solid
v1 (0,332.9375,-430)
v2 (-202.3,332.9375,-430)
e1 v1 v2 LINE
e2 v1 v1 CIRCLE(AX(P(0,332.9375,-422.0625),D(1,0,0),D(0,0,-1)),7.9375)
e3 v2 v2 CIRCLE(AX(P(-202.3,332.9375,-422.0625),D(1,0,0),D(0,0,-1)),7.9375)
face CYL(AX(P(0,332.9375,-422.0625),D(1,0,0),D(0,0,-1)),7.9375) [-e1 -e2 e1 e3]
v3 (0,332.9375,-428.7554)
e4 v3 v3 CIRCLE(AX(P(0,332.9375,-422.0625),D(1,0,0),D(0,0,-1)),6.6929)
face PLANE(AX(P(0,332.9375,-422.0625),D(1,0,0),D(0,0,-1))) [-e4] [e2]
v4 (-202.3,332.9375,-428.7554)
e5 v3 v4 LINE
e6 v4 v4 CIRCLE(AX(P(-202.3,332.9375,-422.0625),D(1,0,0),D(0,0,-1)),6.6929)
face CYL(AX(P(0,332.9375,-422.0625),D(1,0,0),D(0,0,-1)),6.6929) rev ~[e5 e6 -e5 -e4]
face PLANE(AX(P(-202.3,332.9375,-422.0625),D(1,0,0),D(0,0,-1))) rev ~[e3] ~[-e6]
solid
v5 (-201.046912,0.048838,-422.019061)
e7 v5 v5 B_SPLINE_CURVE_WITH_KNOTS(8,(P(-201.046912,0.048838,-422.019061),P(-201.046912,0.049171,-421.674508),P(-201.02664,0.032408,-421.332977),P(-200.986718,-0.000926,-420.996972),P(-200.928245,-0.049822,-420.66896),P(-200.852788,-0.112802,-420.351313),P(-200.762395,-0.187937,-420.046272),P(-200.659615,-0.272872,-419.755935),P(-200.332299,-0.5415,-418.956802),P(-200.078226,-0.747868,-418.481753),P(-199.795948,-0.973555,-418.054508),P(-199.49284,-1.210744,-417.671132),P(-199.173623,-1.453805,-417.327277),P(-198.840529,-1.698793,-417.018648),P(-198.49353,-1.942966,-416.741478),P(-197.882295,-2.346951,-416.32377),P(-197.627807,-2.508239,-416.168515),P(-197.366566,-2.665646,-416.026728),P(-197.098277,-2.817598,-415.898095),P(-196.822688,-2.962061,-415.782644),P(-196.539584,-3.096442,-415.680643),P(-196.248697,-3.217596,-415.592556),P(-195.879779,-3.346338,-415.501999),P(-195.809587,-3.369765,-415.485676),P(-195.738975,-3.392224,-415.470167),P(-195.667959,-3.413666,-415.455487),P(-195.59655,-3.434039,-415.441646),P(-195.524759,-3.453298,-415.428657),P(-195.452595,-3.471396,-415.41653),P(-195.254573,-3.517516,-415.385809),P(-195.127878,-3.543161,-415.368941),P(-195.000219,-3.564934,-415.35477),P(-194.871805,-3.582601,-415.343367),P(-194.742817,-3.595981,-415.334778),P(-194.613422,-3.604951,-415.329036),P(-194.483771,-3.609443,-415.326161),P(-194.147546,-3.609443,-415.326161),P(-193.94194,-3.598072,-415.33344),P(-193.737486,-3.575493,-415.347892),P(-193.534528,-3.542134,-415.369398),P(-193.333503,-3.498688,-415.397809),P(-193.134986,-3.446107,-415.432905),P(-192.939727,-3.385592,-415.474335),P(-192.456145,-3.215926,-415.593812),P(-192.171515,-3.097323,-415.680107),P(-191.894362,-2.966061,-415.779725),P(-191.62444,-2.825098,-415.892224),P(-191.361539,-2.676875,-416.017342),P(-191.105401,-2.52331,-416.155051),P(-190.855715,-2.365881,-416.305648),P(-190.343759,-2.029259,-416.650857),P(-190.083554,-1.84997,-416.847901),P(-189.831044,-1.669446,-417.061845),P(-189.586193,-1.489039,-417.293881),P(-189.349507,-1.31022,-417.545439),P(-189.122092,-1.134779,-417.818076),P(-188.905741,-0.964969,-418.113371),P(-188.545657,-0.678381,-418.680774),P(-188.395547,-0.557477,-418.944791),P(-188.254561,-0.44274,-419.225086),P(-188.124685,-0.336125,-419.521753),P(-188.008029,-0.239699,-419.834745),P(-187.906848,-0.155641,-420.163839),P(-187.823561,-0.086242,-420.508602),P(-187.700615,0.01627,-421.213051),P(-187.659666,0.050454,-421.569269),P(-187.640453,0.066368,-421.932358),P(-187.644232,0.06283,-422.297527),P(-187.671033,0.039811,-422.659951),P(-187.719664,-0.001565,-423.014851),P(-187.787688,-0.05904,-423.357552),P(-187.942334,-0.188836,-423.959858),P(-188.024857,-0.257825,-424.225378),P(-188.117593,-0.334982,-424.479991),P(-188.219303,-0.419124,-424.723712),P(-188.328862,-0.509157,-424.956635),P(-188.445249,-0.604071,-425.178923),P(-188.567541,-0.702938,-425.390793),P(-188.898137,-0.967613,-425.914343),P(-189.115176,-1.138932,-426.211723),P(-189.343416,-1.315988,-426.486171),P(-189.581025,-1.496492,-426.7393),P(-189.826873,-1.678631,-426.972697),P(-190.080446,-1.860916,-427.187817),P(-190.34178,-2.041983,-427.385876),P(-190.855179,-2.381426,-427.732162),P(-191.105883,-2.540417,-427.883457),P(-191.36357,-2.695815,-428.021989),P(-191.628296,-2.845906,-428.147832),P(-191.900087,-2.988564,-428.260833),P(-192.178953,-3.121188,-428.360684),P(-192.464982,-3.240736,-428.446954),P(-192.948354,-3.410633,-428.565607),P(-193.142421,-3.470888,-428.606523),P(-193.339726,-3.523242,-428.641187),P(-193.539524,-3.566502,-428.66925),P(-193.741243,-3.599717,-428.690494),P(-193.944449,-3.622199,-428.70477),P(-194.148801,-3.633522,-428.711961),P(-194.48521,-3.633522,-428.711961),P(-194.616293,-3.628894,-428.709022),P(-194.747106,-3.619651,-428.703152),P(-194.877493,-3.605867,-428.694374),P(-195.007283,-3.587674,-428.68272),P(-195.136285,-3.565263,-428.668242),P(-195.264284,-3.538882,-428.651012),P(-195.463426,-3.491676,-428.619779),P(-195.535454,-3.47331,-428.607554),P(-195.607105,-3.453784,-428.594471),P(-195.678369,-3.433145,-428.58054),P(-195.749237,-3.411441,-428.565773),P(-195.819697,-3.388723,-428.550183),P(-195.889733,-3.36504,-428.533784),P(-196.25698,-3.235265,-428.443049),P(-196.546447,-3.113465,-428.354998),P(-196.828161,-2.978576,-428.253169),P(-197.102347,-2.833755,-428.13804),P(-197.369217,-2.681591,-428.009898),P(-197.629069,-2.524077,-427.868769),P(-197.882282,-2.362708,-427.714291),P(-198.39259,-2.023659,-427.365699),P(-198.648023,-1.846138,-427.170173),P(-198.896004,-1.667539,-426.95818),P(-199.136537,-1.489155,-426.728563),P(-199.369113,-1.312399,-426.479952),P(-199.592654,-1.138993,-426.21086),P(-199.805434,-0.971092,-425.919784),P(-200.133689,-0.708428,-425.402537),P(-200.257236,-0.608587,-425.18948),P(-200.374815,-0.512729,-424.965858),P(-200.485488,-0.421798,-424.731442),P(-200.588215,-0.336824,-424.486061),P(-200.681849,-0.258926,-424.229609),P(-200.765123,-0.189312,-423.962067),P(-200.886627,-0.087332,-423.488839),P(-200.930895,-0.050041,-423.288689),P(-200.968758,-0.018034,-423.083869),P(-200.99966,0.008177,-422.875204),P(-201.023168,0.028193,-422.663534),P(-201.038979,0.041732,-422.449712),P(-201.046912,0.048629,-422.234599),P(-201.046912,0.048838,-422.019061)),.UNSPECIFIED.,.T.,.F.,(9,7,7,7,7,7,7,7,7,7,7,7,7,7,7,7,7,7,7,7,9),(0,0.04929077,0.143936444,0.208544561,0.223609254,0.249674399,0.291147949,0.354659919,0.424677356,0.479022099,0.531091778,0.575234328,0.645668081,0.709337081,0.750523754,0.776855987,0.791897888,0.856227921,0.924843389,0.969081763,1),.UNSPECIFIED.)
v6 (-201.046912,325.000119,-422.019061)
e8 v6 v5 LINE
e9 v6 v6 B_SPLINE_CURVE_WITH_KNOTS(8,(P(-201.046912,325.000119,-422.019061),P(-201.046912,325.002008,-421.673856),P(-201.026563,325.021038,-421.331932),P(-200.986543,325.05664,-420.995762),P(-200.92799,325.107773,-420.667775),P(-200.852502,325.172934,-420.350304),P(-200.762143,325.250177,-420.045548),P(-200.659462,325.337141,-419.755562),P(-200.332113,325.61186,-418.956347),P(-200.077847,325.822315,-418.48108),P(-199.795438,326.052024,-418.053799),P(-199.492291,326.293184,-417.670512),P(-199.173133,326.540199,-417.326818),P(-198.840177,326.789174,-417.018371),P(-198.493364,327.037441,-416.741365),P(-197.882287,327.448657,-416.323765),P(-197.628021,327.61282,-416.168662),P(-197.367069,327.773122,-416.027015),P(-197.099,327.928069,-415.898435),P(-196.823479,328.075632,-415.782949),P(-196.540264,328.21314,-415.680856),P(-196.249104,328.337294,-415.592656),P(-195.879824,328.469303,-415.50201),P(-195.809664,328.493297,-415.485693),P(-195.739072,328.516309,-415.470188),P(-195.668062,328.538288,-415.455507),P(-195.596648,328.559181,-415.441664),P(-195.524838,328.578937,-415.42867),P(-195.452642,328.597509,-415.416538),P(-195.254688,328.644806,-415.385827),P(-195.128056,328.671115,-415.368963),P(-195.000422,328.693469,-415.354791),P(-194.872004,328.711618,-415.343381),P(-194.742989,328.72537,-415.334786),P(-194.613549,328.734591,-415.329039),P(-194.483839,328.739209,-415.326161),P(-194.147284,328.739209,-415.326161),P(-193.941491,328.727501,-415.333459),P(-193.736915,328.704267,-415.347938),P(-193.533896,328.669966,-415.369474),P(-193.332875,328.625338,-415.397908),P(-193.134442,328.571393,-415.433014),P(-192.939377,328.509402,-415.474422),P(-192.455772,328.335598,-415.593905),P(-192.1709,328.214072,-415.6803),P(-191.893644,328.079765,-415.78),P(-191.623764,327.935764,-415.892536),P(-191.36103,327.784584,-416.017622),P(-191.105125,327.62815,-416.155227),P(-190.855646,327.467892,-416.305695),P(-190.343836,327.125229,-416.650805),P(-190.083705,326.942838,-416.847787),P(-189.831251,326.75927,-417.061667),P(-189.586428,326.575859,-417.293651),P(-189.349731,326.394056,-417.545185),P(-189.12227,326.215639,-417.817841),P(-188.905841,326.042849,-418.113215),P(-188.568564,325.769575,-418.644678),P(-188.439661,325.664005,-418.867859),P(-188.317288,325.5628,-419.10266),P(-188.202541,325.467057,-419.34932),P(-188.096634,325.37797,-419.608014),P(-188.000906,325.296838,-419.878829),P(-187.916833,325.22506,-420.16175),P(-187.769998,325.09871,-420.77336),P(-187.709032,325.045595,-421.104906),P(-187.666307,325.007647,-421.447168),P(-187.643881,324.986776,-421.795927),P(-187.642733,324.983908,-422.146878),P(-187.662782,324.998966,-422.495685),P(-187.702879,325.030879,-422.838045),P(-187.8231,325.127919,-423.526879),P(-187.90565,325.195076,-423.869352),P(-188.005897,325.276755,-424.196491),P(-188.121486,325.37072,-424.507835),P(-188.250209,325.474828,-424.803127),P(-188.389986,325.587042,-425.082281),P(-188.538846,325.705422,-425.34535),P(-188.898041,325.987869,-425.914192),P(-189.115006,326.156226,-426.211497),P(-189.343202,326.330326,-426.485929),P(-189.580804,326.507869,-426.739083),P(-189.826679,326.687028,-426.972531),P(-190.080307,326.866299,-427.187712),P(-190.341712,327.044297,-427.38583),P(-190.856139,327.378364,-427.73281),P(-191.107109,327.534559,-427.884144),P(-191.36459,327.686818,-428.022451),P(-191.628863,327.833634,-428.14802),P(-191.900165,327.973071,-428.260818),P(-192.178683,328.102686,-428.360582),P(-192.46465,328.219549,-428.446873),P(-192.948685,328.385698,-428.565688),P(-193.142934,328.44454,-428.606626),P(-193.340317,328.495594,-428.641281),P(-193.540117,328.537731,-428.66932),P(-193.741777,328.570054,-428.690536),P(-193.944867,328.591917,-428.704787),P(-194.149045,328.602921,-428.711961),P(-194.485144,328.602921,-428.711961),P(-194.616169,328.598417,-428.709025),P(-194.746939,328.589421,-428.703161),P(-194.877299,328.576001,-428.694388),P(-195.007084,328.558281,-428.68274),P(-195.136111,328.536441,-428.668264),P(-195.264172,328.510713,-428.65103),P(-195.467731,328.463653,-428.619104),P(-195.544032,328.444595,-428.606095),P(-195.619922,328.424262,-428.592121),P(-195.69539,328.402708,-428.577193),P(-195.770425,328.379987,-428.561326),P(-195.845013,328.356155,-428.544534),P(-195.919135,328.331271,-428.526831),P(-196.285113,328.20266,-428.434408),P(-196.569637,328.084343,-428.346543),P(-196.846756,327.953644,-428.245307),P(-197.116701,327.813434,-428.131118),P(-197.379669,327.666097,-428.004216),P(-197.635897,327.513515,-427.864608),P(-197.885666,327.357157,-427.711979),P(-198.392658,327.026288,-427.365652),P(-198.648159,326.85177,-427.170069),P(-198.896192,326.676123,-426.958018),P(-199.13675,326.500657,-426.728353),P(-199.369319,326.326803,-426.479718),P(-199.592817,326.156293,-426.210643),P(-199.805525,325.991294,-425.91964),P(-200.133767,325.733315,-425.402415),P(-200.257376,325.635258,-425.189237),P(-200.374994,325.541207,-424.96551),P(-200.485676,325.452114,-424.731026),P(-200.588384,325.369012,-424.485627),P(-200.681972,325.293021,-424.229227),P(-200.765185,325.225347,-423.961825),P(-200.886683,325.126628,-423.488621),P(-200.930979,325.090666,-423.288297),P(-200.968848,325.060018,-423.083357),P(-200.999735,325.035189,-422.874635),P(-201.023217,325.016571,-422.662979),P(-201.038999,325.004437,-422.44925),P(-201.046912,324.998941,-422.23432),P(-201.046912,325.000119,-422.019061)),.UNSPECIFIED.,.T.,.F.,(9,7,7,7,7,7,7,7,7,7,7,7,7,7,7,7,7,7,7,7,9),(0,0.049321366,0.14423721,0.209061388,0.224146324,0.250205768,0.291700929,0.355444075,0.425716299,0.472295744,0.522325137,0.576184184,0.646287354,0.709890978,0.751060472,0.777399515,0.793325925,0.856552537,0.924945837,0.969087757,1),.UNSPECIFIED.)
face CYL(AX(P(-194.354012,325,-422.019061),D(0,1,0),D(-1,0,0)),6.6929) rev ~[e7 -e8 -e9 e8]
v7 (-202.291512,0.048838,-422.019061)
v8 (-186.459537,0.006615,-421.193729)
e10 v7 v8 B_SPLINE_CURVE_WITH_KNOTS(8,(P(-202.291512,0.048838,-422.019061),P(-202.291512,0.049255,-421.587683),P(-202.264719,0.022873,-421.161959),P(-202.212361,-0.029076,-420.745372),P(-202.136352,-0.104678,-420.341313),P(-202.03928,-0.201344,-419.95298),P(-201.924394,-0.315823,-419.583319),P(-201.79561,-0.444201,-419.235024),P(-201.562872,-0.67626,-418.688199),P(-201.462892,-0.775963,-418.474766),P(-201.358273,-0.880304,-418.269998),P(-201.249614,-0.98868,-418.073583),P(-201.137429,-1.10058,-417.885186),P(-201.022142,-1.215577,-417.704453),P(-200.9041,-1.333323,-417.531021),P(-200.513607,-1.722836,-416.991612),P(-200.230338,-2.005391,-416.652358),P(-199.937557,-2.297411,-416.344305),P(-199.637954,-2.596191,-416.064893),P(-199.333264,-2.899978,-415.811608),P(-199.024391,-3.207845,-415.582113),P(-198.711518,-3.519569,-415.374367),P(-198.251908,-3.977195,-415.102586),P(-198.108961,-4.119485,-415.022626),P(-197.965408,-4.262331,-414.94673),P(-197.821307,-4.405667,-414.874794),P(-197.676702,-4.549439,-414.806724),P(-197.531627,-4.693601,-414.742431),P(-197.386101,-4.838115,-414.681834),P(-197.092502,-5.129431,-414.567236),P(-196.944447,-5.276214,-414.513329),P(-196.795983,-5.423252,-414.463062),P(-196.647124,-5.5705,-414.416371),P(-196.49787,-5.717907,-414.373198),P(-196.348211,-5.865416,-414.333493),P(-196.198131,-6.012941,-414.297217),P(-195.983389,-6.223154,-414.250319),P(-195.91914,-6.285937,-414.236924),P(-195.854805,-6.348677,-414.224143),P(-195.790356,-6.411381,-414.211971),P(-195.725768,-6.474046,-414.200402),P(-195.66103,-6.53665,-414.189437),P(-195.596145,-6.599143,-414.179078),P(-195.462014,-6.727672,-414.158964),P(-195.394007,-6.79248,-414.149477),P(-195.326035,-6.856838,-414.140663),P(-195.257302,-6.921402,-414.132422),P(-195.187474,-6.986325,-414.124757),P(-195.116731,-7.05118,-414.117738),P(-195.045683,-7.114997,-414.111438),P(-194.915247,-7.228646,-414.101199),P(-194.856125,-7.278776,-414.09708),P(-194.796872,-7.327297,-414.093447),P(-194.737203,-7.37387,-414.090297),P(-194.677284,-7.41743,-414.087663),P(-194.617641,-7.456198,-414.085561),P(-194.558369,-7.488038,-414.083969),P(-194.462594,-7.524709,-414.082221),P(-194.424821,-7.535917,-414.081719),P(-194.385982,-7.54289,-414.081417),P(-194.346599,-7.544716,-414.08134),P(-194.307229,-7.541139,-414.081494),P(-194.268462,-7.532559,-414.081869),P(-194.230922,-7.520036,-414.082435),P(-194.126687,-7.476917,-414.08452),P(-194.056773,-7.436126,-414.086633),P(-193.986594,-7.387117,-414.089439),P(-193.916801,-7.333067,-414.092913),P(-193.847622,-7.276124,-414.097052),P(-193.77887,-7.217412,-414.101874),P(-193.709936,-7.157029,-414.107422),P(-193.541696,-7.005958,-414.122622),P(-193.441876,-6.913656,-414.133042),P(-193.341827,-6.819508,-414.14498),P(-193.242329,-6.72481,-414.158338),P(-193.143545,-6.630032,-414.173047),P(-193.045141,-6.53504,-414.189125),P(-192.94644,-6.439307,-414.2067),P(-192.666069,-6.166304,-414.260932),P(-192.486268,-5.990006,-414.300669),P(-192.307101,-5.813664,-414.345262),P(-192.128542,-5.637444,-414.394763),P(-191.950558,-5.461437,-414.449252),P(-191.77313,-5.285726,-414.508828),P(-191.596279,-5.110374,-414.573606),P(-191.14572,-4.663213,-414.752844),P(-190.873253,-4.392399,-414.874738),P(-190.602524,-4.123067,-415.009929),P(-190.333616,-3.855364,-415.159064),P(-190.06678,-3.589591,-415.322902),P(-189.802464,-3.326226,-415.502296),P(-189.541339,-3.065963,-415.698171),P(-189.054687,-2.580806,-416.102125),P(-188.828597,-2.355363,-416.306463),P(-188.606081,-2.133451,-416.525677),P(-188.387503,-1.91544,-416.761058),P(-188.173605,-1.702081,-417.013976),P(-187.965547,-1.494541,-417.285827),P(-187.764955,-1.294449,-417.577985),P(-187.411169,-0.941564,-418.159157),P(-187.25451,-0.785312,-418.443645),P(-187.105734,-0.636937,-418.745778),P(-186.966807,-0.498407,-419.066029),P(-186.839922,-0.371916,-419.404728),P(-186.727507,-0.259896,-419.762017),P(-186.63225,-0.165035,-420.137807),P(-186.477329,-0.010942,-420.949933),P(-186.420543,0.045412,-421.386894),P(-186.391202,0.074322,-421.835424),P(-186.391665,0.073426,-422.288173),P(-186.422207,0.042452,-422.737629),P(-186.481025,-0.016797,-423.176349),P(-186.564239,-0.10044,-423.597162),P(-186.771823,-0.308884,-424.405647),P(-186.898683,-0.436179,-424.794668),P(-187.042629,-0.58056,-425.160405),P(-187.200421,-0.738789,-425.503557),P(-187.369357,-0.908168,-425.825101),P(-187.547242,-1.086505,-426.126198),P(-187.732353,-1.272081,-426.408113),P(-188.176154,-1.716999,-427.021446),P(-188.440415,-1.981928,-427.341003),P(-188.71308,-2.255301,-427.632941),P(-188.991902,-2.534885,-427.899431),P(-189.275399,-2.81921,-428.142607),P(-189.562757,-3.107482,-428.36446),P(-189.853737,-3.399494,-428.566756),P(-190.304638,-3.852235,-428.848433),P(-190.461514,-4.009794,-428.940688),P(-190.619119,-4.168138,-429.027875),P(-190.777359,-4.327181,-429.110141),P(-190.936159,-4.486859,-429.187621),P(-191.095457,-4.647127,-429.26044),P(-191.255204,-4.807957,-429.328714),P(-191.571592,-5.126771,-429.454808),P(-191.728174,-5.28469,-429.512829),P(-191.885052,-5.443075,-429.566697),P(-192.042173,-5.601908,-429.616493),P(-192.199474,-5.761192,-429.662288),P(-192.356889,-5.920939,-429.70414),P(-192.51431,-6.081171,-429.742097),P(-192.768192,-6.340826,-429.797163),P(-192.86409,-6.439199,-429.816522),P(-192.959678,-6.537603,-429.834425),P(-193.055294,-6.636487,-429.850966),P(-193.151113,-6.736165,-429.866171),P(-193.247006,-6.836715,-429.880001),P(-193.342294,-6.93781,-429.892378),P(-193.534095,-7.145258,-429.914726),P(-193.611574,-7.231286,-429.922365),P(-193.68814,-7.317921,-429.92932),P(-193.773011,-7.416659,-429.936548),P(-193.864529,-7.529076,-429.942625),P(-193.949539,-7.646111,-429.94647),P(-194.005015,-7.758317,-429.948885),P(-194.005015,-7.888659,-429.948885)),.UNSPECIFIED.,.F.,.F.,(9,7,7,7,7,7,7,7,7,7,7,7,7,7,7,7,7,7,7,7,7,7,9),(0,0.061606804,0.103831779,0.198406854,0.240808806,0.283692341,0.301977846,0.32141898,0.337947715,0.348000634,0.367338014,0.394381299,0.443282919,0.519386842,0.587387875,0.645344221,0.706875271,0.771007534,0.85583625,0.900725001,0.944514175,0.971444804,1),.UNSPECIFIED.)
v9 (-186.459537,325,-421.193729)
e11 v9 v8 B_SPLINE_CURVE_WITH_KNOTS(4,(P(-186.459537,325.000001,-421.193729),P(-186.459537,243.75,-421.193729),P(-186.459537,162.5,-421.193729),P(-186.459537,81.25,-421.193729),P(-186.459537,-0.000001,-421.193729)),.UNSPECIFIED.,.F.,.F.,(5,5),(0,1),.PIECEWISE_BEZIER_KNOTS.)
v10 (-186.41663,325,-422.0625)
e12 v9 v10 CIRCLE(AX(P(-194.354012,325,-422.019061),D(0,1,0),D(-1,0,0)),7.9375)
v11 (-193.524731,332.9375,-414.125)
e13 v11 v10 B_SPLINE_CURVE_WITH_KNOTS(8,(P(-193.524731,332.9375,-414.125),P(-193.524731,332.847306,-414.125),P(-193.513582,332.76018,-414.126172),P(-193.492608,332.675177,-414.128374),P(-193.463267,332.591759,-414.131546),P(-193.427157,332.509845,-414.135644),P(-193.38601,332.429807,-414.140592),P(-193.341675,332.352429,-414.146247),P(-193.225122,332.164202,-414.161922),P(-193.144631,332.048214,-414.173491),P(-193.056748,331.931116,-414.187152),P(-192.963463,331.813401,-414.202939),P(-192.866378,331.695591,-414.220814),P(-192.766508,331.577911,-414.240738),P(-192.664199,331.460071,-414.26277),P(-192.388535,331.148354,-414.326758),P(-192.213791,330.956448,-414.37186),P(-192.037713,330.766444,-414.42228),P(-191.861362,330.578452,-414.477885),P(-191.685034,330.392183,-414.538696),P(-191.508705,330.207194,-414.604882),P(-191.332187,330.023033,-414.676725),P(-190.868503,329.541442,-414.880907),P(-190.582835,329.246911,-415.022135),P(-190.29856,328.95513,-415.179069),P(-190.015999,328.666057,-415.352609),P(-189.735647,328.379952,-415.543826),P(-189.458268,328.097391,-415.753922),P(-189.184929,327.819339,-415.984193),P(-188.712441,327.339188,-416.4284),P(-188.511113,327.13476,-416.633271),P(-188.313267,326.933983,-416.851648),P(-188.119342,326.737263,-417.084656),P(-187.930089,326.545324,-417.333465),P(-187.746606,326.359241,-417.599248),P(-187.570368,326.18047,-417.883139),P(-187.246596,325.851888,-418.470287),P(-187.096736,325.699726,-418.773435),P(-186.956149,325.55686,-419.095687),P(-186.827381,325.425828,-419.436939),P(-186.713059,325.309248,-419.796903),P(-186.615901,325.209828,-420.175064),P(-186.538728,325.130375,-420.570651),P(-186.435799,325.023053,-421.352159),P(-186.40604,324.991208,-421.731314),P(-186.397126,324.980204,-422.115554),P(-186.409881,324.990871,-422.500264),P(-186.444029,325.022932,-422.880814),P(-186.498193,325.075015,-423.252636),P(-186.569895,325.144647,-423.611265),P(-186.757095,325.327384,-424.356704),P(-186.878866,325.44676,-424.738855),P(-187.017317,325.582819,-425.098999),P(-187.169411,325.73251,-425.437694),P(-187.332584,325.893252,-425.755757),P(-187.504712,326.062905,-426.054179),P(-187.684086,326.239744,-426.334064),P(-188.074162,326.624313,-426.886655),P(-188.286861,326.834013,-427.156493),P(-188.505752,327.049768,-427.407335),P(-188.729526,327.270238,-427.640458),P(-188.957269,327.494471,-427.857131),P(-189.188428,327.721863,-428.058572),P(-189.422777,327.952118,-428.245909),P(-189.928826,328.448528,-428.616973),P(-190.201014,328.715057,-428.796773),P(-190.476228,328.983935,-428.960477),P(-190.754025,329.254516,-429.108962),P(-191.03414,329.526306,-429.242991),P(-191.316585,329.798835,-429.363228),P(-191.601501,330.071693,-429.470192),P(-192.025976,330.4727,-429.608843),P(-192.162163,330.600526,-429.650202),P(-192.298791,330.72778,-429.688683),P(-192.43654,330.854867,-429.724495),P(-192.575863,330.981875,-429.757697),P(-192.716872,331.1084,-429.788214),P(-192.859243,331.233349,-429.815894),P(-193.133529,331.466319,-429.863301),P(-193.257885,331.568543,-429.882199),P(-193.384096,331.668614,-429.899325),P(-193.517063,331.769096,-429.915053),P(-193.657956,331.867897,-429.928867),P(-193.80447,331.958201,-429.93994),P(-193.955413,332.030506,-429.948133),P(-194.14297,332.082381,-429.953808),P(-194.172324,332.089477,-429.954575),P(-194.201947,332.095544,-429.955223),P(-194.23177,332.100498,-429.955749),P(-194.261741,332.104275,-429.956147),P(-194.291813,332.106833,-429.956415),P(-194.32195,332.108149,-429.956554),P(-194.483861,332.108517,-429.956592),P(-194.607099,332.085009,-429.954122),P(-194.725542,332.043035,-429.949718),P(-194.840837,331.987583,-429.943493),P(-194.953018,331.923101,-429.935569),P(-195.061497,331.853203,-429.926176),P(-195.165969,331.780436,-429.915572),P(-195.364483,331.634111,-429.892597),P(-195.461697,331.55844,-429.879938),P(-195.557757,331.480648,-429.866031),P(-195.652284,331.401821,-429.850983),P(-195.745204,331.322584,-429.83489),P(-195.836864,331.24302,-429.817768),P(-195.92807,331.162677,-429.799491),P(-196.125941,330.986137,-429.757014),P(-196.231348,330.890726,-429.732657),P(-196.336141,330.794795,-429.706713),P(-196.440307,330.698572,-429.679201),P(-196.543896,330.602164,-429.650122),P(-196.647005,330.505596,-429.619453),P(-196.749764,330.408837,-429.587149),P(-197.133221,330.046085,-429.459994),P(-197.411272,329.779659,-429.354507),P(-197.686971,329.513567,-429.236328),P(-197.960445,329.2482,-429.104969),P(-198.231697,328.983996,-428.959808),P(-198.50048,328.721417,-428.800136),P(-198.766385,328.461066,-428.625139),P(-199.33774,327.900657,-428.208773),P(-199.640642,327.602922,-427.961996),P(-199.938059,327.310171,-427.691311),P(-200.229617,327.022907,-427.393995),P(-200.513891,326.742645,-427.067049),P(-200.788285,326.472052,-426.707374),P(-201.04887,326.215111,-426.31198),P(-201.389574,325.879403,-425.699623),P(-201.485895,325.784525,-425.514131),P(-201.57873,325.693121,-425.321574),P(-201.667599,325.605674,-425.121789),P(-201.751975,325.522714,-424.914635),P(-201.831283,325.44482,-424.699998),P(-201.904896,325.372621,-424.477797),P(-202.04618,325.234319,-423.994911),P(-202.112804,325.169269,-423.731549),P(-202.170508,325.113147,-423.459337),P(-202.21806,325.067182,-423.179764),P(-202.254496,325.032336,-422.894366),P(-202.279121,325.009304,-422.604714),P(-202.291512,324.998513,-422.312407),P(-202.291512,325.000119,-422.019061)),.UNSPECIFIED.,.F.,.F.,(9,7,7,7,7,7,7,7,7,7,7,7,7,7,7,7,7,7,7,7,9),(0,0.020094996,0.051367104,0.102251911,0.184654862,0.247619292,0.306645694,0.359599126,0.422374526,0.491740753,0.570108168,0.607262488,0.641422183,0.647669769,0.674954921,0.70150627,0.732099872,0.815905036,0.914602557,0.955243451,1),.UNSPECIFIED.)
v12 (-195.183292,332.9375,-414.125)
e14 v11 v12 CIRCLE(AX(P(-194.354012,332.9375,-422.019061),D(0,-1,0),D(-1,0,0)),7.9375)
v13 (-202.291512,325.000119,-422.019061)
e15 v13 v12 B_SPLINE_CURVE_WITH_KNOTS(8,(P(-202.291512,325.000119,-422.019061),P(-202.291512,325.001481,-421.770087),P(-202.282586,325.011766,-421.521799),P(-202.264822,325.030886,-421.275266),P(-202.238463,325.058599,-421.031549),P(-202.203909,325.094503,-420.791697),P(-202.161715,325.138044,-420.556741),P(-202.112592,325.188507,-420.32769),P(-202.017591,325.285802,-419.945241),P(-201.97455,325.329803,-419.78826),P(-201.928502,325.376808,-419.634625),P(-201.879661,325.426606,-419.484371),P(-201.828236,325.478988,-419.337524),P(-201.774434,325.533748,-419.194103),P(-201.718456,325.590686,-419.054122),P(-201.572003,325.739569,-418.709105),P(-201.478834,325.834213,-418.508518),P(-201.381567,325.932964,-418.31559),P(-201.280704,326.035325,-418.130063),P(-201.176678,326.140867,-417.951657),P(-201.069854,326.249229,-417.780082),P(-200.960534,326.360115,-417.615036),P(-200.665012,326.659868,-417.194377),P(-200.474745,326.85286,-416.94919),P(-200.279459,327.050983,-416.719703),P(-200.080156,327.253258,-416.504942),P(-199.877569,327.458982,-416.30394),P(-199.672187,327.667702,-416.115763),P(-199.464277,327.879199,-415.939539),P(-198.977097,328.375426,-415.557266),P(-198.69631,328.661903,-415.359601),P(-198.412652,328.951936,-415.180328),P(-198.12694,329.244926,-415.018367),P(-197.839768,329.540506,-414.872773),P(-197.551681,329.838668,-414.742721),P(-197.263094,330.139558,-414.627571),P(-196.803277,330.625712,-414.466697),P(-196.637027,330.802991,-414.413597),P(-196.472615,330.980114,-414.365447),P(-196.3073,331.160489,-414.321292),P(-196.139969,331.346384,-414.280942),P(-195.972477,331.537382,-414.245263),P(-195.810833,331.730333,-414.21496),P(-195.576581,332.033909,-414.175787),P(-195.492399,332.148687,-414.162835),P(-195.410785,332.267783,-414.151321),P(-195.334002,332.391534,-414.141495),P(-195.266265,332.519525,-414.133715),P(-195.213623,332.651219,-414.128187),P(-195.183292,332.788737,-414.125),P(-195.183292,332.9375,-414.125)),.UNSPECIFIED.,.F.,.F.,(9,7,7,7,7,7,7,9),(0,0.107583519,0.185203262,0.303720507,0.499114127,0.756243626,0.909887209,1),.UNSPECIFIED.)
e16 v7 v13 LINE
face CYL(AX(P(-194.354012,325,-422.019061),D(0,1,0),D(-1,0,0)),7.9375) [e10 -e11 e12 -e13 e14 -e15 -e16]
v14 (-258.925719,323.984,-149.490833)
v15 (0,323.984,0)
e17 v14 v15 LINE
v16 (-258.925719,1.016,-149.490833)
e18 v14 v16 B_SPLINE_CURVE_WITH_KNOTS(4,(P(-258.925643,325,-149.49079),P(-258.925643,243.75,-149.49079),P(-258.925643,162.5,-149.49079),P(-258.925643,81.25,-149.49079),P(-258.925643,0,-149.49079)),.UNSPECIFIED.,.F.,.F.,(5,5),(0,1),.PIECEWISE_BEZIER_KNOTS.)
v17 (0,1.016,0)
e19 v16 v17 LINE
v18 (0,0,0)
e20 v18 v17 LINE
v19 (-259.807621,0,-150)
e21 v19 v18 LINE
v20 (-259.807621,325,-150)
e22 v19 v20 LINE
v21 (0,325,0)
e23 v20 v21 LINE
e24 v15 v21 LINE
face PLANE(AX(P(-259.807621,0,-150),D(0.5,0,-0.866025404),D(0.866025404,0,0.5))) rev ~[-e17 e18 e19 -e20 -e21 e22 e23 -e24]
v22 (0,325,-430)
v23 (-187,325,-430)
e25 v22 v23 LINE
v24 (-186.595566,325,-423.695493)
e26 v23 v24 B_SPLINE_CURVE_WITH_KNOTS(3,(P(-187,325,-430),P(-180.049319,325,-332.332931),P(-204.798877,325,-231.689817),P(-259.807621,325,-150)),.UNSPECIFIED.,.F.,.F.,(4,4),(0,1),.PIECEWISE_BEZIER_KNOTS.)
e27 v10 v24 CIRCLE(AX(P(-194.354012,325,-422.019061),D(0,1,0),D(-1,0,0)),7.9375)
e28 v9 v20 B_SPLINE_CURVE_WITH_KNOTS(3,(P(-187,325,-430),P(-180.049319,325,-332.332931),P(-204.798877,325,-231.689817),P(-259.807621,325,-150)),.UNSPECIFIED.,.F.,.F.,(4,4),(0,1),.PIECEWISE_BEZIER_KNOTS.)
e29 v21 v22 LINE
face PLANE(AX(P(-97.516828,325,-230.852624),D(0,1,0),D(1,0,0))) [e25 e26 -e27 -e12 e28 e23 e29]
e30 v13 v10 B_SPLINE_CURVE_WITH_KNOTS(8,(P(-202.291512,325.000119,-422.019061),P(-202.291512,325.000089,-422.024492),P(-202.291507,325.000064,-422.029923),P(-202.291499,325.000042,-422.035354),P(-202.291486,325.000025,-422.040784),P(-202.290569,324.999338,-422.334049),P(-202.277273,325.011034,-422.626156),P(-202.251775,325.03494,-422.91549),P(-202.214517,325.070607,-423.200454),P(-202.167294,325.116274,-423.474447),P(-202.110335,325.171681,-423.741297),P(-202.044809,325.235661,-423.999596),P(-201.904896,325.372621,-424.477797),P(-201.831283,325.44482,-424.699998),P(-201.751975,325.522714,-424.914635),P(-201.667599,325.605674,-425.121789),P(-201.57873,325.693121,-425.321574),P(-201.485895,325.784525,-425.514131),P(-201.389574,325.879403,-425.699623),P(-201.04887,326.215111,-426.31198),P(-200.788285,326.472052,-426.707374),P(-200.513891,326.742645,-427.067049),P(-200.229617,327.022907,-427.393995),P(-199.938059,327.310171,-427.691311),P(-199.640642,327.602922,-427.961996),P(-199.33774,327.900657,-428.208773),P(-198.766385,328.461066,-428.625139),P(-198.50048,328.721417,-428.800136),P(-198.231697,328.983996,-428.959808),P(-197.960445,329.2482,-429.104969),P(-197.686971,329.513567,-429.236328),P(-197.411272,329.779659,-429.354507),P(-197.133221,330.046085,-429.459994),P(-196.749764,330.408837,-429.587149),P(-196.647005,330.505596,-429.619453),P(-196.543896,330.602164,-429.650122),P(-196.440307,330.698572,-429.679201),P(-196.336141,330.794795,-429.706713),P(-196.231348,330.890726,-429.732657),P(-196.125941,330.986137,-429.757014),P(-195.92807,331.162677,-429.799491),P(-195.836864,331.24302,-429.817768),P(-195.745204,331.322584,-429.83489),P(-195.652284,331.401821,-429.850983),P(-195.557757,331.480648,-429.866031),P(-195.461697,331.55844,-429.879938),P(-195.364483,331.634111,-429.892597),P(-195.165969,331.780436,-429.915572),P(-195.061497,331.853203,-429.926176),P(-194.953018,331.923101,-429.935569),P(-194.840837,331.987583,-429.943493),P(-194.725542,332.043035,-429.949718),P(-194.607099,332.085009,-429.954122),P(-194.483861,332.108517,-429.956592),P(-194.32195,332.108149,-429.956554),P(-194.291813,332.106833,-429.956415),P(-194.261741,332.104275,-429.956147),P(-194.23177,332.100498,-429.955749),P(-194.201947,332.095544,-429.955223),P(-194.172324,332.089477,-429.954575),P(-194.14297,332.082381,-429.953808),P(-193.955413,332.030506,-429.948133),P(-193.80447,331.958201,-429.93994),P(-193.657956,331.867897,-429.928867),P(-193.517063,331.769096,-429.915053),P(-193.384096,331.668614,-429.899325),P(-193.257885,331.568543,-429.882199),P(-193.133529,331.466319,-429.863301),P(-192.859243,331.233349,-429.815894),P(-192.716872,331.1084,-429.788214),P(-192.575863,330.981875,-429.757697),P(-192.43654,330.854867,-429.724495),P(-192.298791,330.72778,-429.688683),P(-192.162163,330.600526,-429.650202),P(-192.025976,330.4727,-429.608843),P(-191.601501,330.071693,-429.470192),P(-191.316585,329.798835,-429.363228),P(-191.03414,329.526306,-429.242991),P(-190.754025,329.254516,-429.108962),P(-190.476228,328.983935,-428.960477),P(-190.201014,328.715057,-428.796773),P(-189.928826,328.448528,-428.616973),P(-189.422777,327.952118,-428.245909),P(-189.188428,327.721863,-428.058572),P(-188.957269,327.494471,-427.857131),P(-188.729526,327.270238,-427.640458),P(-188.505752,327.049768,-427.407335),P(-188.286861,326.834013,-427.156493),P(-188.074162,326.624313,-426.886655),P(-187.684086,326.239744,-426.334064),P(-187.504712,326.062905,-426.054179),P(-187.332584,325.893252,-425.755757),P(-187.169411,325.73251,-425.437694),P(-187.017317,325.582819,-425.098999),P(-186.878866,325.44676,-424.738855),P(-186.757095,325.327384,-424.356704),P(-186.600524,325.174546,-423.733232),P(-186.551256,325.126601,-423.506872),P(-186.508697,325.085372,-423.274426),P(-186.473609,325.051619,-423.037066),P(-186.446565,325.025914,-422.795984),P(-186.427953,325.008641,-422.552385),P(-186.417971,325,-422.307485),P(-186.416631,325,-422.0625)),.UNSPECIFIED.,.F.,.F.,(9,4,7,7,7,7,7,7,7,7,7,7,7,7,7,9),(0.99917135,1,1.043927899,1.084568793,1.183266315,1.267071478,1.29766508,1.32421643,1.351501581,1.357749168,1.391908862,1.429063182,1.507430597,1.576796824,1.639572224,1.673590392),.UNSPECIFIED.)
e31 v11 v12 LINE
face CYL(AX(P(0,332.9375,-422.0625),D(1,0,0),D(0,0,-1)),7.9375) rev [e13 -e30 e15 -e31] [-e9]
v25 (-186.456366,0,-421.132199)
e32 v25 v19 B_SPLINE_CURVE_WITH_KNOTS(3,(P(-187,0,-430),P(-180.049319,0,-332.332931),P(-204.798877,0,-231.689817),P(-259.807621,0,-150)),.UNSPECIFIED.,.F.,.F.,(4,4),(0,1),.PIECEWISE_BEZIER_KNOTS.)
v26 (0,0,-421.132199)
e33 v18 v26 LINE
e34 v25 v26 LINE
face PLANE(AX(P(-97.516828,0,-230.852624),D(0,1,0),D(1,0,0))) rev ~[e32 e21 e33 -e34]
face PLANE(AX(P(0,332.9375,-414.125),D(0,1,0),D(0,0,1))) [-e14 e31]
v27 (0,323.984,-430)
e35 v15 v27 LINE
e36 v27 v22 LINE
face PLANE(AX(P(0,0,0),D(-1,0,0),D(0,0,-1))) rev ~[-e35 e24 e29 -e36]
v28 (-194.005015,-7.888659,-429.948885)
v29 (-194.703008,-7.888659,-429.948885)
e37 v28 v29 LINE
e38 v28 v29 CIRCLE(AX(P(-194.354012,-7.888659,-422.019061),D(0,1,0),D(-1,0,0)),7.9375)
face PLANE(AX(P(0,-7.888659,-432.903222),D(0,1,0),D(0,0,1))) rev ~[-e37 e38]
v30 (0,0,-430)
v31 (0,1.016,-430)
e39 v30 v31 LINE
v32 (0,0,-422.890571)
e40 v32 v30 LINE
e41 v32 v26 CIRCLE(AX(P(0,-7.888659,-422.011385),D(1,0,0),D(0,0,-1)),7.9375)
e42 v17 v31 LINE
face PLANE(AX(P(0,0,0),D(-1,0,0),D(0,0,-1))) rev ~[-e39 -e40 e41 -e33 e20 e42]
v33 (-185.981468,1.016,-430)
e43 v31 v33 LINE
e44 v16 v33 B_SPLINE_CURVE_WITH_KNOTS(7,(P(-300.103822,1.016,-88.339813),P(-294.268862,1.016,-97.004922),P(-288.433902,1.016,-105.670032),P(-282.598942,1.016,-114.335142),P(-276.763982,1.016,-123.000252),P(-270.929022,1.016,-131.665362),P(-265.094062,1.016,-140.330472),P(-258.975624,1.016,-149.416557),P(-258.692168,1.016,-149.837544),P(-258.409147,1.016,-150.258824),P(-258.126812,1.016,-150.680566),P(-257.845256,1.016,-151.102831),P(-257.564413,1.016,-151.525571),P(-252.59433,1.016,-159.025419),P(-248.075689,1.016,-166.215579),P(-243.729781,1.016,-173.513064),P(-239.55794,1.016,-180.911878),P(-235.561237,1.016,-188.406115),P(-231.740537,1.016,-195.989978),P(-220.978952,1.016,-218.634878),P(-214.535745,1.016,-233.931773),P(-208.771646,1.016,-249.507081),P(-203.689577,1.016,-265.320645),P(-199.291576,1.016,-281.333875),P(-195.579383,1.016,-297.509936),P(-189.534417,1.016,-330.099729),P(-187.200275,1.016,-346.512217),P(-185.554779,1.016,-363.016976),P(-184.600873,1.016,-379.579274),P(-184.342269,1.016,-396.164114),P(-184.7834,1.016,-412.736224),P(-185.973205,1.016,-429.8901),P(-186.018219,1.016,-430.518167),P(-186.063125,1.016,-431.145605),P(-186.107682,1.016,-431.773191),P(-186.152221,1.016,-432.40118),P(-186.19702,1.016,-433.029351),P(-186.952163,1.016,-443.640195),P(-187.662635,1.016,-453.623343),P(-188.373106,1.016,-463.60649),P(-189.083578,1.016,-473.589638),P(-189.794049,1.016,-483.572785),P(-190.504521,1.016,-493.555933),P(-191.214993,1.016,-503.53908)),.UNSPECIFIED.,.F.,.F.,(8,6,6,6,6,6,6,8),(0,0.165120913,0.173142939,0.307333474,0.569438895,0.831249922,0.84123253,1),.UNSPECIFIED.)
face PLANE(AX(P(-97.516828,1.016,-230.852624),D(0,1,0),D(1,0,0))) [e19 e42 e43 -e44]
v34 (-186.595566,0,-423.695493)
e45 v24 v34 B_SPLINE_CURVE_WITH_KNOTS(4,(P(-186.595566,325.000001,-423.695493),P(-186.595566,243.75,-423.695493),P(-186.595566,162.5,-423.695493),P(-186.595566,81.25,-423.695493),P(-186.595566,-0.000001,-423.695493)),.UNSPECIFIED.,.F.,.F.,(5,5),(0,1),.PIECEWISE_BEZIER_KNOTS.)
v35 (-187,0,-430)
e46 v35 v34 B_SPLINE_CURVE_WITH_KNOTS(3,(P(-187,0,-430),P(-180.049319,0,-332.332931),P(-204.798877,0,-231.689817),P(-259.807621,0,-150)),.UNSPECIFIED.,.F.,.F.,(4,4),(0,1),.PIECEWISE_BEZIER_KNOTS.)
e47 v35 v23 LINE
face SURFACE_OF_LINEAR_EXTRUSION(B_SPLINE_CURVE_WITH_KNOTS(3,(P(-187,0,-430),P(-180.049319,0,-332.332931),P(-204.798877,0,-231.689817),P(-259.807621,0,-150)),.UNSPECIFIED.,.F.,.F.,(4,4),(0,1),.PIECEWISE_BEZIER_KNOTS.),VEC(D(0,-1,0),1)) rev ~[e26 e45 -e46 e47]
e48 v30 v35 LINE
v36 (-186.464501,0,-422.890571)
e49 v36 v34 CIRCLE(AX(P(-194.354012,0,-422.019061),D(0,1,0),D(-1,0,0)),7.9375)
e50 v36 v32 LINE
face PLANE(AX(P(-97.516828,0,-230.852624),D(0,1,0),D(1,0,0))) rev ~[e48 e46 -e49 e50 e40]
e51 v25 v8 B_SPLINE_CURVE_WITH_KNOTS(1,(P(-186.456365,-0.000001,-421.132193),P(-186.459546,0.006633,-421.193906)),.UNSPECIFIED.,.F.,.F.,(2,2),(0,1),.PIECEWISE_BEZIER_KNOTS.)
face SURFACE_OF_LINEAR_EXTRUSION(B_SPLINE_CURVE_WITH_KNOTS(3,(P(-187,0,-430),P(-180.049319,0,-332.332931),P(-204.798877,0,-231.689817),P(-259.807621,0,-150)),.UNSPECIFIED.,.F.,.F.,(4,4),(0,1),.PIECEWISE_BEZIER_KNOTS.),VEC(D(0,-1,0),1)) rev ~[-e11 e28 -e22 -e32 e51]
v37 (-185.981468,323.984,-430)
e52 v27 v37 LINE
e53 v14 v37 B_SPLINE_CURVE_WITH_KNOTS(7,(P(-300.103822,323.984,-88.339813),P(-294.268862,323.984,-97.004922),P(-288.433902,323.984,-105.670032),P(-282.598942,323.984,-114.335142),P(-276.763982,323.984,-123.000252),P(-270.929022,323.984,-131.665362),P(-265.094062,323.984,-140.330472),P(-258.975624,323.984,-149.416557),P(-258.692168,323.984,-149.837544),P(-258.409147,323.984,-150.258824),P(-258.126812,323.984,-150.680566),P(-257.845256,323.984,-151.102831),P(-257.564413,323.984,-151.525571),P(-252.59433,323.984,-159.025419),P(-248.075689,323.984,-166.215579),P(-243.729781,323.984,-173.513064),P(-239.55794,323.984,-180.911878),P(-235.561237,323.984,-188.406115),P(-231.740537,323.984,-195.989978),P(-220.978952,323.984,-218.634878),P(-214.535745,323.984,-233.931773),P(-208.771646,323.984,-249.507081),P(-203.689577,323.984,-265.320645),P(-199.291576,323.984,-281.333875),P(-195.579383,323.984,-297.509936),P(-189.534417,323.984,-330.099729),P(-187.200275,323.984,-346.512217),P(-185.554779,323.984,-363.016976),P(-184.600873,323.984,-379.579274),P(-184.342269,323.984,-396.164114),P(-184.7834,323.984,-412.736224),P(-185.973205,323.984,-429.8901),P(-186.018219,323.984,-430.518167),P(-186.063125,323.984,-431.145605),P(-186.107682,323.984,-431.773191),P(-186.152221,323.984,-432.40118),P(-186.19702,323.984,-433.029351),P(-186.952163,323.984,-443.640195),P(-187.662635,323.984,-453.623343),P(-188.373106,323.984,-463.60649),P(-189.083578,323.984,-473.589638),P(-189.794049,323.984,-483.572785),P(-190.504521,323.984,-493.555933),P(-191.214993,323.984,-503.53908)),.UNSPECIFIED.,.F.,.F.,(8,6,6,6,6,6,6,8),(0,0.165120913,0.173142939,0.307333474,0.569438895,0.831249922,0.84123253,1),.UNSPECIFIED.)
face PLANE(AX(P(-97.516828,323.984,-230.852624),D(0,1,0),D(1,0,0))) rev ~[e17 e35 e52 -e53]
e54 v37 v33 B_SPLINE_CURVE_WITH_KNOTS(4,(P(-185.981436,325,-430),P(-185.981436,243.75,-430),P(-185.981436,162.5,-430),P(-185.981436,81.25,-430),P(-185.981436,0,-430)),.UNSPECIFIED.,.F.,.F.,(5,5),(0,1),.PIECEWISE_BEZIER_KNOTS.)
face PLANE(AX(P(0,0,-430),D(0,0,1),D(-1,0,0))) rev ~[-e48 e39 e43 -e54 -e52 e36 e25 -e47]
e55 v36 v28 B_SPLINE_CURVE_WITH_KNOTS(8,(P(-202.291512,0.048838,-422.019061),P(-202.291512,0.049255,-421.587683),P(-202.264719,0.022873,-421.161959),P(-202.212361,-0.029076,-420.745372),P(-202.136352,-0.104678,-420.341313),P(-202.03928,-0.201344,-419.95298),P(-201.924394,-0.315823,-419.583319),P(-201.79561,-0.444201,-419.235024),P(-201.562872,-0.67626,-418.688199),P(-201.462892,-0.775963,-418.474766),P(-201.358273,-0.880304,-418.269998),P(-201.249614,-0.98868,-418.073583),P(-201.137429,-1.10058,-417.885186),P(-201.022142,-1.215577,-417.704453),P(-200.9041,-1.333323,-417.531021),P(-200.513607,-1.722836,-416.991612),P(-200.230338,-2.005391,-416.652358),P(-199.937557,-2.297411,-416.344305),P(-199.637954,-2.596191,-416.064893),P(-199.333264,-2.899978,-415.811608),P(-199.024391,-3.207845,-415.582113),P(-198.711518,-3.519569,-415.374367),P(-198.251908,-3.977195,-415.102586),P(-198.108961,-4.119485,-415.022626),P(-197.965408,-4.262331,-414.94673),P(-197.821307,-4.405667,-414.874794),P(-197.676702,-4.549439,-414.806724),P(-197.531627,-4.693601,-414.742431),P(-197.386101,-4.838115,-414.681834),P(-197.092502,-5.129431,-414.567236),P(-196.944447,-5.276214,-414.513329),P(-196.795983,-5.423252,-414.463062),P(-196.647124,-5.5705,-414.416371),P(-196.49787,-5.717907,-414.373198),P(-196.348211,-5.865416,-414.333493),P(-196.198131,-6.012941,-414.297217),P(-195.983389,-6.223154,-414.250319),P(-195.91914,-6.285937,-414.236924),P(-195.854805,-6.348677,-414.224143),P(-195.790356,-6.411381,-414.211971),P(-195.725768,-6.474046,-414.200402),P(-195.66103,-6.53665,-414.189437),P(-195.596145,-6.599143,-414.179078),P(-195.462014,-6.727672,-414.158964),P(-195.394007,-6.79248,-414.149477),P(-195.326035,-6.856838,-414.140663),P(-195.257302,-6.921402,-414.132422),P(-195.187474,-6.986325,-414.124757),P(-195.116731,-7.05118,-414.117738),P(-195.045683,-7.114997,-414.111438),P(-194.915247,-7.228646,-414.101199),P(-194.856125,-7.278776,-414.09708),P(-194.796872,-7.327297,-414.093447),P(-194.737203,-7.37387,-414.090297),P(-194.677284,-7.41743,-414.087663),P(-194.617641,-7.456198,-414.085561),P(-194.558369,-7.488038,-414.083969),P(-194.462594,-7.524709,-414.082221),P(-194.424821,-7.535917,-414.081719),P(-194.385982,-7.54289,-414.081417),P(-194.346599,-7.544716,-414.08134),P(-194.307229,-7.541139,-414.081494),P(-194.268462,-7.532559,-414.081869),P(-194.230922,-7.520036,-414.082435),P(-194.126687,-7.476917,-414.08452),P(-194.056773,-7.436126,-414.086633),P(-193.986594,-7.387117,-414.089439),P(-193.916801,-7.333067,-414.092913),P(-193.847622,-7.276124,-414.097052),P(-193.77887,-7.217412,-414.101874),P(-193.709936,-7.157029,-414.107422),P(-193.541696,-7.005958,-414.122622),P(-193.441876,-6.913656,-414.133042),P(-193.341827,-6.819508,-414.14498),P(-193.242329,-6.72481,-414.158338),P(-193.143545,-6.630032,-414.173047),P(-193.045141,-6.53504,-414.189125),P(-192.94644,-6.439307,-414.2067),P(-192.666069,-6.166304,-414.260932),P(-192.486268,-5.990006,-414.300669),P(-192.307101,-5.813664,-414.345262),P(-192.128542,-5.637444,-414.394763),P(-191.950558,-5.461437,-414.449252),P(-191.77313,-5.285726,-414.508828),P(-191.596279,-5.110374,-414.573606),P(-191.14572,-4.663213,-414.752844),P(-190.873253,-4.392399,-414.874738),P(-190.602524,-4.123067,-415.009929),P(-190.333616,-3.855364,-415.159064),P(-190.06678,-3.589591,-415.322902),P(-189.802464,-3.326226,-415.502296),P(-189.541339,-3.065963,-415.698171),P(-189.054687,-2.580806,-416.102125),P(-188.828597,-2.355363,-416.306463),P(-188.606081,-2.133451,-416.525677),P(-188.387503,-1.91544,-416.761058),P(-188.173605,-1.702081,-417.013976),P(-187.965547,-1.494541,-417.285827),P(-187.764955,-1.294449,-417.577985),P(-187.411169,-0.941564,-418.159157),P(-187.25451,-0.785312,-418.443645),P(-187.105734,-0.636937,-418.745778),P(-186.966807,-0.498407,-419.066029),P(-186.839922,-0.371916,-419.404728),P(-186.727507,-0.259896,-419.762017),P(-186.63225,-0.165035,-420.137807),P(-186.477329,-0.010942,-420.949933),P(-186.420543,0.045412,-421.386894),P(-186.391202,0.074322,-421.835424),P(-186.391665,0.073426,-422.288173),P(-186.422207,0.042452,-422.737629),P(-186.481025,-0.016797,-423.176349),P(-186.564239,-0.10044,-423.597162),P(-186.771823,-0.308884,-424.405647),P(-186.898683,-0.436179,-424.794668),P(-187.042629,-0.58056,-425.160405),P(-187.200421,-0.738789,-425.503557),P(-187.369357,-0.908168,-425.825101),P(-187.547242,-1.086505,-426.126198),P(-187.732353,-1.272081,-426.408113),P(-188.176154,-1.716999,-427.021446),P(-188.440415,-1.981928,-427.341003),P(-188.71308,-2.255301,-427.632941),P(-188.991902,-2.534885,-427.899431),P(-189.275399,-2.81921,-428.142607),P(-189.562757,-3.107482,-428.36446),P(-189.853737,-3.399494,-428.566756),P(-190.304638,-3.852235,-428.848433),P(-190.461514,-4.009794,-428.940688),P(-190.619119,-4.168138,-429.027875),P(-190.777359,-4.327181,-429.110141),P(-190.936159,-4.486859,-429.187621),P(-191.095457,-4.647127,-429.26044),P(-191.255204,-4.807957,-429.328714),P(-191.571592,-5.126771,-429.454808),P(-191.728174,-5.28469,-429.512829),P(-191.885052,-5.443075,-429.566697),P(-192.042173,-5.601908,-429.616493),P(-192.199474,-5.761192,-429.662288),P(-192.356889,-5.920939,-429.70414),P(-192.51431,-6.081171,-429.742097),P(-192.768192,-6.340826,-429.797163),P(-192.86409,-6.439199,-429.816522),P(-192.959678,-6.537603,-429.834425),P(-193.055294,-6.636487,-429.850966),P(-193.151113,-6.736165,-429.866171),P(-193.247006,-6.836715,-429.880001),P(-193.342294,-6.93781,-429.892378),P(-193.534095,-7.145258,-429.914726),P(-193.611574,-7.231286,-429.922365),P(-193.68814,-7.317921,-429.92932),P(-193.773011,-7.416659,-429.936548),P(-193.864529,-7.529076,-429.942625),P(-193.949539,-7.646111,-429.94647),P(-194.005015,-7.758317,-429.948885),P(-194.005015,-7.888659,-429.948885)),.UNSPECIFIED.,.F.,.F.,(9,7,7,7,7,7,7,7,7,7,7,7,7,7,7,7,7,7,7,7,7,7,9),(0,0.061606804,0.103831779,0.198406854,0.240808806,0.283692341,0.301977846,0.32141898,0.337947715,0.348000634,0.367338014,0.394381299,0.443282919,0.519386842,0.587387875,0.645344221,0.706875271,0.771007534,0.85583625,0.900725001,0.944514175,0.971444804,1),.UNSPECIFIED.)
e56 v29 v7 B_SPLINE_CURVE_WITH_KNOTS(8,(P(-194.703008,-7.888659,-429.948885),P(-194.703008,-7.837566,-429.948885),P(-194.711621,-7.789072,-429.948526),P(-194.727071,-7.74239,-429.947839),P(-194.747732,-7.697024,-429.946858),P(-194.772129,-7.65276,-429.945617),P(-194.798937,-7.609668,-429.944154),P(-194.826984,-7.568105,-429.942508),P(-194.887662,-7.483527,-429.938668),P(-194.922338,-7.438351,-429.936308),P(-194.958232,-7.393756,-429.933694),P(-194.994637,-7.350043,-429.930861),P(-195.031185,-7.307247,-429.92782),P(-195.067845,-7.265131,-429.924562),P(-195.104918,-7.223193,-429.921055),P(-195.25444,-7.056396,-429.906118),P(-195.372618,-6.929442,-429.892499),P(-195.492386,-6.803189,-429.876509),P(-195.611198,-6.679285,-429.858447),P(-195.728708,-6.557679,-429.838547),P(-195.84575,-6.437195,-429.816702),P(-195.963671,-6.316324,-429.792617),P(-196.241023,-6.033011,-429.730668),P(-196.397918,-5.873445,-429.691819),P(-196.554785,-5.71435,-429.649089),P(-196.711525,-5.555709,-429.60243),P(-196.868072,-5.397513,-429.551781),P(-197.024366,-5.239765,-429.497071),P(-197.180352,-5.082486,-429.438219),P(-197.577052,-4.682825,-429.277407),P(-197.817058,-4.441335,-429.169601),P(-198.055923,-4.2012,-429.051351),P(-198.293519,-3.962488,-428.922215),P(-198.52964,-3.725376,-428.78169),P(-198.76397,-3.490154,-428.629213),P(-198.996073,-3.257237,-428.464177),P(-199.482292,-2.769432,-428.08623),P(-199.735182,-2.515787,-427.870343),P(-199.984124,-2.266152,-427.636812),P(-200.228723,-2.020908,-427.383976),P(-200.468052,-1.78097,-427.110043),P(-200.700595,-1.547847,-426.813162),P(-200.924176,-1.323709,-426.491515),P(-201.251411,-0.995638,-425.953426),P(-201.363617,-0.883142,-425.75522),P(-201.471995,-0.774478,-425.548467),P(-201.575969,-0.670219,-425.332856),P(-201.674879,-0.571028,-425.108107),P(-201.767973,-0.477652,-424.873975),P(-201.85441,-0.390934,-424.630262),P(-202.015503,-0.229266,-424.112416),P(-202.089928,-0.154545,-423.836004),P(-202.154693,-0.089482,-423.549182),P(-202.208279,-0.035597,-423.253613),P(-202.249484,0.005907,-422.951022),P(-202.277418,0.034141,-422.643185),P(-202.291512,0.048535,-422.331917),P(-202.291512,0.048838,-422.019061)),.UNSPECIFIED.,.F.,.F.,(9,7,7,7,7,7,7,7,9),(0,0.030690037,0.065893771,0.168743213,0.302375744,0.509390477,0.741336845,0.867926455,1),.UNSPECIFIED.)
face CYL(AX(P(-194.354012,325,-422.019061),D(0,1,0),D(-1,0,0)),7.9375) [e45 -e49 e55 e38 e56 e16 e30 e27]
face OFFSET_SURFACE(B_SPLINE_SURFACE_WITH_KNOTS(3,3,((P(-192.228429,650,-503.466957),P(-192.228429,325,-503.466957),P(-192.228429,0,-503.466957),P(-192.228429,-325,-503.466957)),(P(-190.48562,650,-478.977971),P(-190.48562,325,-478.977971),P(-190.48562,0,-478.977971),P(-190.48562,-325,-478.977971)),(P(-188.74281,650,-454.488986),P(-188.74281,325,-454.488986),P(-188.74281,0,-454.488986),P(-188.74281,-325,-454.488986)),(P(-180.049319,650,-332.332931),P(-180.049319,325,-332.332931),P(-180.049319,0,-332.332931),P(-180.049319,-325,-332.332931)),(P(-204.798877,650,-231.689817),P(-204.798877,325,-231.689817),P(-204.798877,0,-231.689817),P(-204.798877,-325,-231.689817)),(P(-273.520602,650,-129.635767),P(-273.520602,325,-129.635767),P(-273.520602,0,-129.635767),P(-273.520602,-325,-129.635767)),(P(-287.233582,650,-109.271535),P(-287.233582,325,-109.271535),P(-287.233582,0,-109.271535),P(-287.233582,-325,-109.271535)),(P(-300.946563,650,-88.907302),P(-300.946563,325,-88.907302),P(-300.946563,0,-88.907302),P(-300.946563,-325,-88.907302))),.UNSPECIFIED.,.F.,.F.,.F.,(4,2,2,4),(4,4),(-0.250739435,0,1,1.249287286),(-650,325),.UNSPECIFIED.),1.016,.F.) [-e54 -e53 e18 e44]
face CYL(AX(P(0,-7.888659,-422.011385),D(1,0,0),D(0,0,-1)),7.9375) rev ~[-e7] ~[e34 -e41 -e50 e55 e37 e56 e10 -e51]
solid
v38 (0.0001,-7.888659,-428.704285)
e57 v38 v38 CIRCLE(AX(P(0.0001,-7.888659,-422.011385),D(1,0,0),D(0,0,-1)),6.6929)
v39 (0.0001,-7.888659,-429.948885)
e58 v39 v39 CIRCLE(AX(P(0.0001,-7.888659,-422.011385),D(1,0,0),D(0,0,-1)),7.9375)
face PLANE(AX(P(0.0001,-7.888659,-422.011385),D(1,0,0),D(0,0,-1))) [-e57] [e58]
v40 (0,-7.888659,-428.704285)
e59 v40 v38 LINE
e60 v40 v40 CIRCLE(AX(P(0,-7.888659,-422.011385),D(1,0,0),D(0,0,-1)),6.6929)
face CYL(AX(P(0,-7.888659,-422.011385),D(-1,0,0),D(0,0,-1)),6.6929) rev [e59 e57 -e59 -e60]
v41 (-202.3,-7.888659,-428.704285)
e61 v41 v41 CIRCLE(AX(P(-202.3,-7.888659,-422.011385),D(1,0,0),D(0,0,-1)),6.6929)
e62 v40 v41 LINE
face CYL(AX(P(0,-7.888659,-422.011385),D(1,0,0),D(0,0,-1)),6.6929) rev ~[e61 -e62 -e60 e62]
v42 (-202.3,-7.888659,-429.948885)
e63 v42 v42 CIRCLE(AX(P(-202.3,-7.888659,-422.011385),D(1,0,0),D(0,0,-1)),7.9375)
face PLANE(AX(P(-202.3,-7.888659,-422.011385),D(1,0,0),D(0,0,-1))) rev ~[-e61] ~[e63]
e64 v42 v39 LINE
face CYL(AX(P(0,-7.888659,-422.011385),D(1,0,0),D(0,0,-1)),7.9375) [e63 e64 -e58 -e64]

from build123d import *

# Parameters (mm, degrees)
BOSS_EXTRUDE1_DEPTH      = 325
SHELL1_T                 = -1.016
SKETCH2_R                = 7.9375
BOSS_EXTRUDE2_DEPTH      = 202.3
SKETCH3_R                = 6.6929
CUT_EXTRUDE1_DEPTH       = 260.807621235
SKETCH4_R                = 7.9375
SKETCH4_R_2              = 6.6929
BOSS_EXTRUDE3_DEPTH      = 15.875
BOSS_EXTRUDE3_DEPTH_BACK = 340.875
SKETCH6_R                = 7.9375
SKETCH6_R_2              = 6.6929
BOSS_EXTRUDE9_DEPTH      = 0.0001
BOSS_EXTRUDE9_DEPTH_BACK = 202.3
CUT_EXTRUDE2_DEPTH       = 260.807621235


with BuildPart() as part:
    # Sketch1 → Boss-Extrude1 (new body)
    with BuildSketch(Plane(origin=(0, 0, 0), x_dir=(1, 0, 0), z_dir=(0, 1, 0))):
        with BuildLine():
            Line((0, 0), (0, 430))
            Line((0, 430), (-187, 430))
            add(Edge.make_bspline(
                [(-187, 430), (-180.049319148, 332.332930929), (-204.798877093, 231.689816753), (-259.807621135, 150)],
                knots=[0, 0, 0, 0, 1, 1, 1, 1], degree=3))
            Line((-259.807621135, 150), (0, 0))
        make_face()
    extrude(amount=BOSS_EXTRUDE1_DEPTH)

    # Shell1
    shell1_openings = [part.faces().sort_by_distance(p)[0] for p in [
        (-93.5, 162.5, -430),
        (0, 162.5, -215),
        (-129.903810568, 162.5, -75),
    ]]
    offset(amount=SHELL1_T, openings=shell1_openings, kind=Kind.INTERSECTION)

    # Sketch4 → Boss-Extrude3 (add, two sides)
    with BuildSketch(Plane(origin=(0, 325, 0), x_dir=(-1, 0, 0), z_dir=(0, 1, 0))) as boss_extrude3_sk:
        with Locations((194.354011633, -422.019061054)):
            Circle(SKETCH4_R)
        with Locations((194.354011633, -422.019061054)):
            Circle(SKETCH4_R_2, mode=Mode.SUBTRACT)
    extrude(amount=BOSS_EXTRUDE3_DEPTH)
    extrude(boss_extrude3_sk.sketch, amount=-BOSS_EXTRUDE3_DEPTH_BACK)

    # Sketch7 → Cut-Extrude2 (cut, through all)
    with BuildSketch(Plane(origin=(0, 0, 0), x_dir=(0, 0, -1), z_dir=(1, 0, 0))):
        with BuildLine():
            Line((414.125, 332.9375), (402.216319392, 332.9375))
            Line((402.216319392, 332.9375), (402.216319392, 354.156251259))
            Line((402.216319392, 354.156251259), (446.927199566, 354.156251259))
            Line((446.927199566, 354.156251259), (446.927199566, 332.9375))
            Line((446.927199566, 332.9375), (430, 332.9375))
            ThreePointArc((430, 332.9375), (422.0625, 325), (414.125, 332.9375))
        make_face()
        with BuildLine():
            Line((414.073884985, -7.888658782), (410.063917237, -7.888658782))
            Line((410.063917237, -7.888658782), (410.063917237, -17.848986148))
            Line((410.063917237, -17.848986148), (432.903222186, -17.848986148))
            Line((432.903222186, -17.848986148), (432.903222186, -7.888658782))
            Line((432.903222186, -7.888658782), (429.948884985, -7.888658782))
            ThreePointArc((429.948884985, -7.888658782), (422.011384985, 0.048841218), (414.073884985, -7.888658782))
        make_face()
    extrude(amount=-CUT_EXTRUDE2_DEPTH, mode=Mode.SUBTRACT)


with BuildPart() as body_2:
    # Sketch2 → Boss-Extrude2 (new body)
    with BuildSketch(Plane(origin=(0, 0, 0), x_dir=(0, 0, -1), z_dir=(1, 0, 0))):
        with Locations((422.0625, 332.9375)):
            Circle(SKETCH2_R)
    extrude(amount=-BOSS_EXTRUDE2_DEPTH)

    # Sketch3 → Cut-Extrude1 (cut, through all)
    with BuildSketch(Plane(origin=(0, 0, 0), x_dir=(0, 0, -1), z_dir=(1, 0, 0))):
        with Locations((422.0625, 332.9375)):
            Circle(SKETCH3_R)
    extrude(amount=-CUT_EXTRUDE1_DEPTH, mode=Mode.SUBTRACT)


with BuildPart() as body_3:
    # Sketch6 → Boss-Extrude9 (new body, two sides)
    with BuildSketch(Plane(origin=(0, 0, 0), x_dir=(0, 0, -1), z_dir=(1, 0, 0))) as boss_extrude9_sk:
        with Locations((422.011384985, -7.888658782)):
            Circle(SKETCH6_R)
        with Locations((422.011384985, -7.888658782)):
            Circle(SKETCH6_R_2, mode=Mode.SUBTRACT)
    extrude(amount=BOSS_EXTRUDE9_DEPTH)
    extrude(boss_extrude9_sk.sketch, amount=-BOSS_EXTRUDE9_DEPTH_BACK)


solid = Compound([part.part, body_2.part, body_3.part])
